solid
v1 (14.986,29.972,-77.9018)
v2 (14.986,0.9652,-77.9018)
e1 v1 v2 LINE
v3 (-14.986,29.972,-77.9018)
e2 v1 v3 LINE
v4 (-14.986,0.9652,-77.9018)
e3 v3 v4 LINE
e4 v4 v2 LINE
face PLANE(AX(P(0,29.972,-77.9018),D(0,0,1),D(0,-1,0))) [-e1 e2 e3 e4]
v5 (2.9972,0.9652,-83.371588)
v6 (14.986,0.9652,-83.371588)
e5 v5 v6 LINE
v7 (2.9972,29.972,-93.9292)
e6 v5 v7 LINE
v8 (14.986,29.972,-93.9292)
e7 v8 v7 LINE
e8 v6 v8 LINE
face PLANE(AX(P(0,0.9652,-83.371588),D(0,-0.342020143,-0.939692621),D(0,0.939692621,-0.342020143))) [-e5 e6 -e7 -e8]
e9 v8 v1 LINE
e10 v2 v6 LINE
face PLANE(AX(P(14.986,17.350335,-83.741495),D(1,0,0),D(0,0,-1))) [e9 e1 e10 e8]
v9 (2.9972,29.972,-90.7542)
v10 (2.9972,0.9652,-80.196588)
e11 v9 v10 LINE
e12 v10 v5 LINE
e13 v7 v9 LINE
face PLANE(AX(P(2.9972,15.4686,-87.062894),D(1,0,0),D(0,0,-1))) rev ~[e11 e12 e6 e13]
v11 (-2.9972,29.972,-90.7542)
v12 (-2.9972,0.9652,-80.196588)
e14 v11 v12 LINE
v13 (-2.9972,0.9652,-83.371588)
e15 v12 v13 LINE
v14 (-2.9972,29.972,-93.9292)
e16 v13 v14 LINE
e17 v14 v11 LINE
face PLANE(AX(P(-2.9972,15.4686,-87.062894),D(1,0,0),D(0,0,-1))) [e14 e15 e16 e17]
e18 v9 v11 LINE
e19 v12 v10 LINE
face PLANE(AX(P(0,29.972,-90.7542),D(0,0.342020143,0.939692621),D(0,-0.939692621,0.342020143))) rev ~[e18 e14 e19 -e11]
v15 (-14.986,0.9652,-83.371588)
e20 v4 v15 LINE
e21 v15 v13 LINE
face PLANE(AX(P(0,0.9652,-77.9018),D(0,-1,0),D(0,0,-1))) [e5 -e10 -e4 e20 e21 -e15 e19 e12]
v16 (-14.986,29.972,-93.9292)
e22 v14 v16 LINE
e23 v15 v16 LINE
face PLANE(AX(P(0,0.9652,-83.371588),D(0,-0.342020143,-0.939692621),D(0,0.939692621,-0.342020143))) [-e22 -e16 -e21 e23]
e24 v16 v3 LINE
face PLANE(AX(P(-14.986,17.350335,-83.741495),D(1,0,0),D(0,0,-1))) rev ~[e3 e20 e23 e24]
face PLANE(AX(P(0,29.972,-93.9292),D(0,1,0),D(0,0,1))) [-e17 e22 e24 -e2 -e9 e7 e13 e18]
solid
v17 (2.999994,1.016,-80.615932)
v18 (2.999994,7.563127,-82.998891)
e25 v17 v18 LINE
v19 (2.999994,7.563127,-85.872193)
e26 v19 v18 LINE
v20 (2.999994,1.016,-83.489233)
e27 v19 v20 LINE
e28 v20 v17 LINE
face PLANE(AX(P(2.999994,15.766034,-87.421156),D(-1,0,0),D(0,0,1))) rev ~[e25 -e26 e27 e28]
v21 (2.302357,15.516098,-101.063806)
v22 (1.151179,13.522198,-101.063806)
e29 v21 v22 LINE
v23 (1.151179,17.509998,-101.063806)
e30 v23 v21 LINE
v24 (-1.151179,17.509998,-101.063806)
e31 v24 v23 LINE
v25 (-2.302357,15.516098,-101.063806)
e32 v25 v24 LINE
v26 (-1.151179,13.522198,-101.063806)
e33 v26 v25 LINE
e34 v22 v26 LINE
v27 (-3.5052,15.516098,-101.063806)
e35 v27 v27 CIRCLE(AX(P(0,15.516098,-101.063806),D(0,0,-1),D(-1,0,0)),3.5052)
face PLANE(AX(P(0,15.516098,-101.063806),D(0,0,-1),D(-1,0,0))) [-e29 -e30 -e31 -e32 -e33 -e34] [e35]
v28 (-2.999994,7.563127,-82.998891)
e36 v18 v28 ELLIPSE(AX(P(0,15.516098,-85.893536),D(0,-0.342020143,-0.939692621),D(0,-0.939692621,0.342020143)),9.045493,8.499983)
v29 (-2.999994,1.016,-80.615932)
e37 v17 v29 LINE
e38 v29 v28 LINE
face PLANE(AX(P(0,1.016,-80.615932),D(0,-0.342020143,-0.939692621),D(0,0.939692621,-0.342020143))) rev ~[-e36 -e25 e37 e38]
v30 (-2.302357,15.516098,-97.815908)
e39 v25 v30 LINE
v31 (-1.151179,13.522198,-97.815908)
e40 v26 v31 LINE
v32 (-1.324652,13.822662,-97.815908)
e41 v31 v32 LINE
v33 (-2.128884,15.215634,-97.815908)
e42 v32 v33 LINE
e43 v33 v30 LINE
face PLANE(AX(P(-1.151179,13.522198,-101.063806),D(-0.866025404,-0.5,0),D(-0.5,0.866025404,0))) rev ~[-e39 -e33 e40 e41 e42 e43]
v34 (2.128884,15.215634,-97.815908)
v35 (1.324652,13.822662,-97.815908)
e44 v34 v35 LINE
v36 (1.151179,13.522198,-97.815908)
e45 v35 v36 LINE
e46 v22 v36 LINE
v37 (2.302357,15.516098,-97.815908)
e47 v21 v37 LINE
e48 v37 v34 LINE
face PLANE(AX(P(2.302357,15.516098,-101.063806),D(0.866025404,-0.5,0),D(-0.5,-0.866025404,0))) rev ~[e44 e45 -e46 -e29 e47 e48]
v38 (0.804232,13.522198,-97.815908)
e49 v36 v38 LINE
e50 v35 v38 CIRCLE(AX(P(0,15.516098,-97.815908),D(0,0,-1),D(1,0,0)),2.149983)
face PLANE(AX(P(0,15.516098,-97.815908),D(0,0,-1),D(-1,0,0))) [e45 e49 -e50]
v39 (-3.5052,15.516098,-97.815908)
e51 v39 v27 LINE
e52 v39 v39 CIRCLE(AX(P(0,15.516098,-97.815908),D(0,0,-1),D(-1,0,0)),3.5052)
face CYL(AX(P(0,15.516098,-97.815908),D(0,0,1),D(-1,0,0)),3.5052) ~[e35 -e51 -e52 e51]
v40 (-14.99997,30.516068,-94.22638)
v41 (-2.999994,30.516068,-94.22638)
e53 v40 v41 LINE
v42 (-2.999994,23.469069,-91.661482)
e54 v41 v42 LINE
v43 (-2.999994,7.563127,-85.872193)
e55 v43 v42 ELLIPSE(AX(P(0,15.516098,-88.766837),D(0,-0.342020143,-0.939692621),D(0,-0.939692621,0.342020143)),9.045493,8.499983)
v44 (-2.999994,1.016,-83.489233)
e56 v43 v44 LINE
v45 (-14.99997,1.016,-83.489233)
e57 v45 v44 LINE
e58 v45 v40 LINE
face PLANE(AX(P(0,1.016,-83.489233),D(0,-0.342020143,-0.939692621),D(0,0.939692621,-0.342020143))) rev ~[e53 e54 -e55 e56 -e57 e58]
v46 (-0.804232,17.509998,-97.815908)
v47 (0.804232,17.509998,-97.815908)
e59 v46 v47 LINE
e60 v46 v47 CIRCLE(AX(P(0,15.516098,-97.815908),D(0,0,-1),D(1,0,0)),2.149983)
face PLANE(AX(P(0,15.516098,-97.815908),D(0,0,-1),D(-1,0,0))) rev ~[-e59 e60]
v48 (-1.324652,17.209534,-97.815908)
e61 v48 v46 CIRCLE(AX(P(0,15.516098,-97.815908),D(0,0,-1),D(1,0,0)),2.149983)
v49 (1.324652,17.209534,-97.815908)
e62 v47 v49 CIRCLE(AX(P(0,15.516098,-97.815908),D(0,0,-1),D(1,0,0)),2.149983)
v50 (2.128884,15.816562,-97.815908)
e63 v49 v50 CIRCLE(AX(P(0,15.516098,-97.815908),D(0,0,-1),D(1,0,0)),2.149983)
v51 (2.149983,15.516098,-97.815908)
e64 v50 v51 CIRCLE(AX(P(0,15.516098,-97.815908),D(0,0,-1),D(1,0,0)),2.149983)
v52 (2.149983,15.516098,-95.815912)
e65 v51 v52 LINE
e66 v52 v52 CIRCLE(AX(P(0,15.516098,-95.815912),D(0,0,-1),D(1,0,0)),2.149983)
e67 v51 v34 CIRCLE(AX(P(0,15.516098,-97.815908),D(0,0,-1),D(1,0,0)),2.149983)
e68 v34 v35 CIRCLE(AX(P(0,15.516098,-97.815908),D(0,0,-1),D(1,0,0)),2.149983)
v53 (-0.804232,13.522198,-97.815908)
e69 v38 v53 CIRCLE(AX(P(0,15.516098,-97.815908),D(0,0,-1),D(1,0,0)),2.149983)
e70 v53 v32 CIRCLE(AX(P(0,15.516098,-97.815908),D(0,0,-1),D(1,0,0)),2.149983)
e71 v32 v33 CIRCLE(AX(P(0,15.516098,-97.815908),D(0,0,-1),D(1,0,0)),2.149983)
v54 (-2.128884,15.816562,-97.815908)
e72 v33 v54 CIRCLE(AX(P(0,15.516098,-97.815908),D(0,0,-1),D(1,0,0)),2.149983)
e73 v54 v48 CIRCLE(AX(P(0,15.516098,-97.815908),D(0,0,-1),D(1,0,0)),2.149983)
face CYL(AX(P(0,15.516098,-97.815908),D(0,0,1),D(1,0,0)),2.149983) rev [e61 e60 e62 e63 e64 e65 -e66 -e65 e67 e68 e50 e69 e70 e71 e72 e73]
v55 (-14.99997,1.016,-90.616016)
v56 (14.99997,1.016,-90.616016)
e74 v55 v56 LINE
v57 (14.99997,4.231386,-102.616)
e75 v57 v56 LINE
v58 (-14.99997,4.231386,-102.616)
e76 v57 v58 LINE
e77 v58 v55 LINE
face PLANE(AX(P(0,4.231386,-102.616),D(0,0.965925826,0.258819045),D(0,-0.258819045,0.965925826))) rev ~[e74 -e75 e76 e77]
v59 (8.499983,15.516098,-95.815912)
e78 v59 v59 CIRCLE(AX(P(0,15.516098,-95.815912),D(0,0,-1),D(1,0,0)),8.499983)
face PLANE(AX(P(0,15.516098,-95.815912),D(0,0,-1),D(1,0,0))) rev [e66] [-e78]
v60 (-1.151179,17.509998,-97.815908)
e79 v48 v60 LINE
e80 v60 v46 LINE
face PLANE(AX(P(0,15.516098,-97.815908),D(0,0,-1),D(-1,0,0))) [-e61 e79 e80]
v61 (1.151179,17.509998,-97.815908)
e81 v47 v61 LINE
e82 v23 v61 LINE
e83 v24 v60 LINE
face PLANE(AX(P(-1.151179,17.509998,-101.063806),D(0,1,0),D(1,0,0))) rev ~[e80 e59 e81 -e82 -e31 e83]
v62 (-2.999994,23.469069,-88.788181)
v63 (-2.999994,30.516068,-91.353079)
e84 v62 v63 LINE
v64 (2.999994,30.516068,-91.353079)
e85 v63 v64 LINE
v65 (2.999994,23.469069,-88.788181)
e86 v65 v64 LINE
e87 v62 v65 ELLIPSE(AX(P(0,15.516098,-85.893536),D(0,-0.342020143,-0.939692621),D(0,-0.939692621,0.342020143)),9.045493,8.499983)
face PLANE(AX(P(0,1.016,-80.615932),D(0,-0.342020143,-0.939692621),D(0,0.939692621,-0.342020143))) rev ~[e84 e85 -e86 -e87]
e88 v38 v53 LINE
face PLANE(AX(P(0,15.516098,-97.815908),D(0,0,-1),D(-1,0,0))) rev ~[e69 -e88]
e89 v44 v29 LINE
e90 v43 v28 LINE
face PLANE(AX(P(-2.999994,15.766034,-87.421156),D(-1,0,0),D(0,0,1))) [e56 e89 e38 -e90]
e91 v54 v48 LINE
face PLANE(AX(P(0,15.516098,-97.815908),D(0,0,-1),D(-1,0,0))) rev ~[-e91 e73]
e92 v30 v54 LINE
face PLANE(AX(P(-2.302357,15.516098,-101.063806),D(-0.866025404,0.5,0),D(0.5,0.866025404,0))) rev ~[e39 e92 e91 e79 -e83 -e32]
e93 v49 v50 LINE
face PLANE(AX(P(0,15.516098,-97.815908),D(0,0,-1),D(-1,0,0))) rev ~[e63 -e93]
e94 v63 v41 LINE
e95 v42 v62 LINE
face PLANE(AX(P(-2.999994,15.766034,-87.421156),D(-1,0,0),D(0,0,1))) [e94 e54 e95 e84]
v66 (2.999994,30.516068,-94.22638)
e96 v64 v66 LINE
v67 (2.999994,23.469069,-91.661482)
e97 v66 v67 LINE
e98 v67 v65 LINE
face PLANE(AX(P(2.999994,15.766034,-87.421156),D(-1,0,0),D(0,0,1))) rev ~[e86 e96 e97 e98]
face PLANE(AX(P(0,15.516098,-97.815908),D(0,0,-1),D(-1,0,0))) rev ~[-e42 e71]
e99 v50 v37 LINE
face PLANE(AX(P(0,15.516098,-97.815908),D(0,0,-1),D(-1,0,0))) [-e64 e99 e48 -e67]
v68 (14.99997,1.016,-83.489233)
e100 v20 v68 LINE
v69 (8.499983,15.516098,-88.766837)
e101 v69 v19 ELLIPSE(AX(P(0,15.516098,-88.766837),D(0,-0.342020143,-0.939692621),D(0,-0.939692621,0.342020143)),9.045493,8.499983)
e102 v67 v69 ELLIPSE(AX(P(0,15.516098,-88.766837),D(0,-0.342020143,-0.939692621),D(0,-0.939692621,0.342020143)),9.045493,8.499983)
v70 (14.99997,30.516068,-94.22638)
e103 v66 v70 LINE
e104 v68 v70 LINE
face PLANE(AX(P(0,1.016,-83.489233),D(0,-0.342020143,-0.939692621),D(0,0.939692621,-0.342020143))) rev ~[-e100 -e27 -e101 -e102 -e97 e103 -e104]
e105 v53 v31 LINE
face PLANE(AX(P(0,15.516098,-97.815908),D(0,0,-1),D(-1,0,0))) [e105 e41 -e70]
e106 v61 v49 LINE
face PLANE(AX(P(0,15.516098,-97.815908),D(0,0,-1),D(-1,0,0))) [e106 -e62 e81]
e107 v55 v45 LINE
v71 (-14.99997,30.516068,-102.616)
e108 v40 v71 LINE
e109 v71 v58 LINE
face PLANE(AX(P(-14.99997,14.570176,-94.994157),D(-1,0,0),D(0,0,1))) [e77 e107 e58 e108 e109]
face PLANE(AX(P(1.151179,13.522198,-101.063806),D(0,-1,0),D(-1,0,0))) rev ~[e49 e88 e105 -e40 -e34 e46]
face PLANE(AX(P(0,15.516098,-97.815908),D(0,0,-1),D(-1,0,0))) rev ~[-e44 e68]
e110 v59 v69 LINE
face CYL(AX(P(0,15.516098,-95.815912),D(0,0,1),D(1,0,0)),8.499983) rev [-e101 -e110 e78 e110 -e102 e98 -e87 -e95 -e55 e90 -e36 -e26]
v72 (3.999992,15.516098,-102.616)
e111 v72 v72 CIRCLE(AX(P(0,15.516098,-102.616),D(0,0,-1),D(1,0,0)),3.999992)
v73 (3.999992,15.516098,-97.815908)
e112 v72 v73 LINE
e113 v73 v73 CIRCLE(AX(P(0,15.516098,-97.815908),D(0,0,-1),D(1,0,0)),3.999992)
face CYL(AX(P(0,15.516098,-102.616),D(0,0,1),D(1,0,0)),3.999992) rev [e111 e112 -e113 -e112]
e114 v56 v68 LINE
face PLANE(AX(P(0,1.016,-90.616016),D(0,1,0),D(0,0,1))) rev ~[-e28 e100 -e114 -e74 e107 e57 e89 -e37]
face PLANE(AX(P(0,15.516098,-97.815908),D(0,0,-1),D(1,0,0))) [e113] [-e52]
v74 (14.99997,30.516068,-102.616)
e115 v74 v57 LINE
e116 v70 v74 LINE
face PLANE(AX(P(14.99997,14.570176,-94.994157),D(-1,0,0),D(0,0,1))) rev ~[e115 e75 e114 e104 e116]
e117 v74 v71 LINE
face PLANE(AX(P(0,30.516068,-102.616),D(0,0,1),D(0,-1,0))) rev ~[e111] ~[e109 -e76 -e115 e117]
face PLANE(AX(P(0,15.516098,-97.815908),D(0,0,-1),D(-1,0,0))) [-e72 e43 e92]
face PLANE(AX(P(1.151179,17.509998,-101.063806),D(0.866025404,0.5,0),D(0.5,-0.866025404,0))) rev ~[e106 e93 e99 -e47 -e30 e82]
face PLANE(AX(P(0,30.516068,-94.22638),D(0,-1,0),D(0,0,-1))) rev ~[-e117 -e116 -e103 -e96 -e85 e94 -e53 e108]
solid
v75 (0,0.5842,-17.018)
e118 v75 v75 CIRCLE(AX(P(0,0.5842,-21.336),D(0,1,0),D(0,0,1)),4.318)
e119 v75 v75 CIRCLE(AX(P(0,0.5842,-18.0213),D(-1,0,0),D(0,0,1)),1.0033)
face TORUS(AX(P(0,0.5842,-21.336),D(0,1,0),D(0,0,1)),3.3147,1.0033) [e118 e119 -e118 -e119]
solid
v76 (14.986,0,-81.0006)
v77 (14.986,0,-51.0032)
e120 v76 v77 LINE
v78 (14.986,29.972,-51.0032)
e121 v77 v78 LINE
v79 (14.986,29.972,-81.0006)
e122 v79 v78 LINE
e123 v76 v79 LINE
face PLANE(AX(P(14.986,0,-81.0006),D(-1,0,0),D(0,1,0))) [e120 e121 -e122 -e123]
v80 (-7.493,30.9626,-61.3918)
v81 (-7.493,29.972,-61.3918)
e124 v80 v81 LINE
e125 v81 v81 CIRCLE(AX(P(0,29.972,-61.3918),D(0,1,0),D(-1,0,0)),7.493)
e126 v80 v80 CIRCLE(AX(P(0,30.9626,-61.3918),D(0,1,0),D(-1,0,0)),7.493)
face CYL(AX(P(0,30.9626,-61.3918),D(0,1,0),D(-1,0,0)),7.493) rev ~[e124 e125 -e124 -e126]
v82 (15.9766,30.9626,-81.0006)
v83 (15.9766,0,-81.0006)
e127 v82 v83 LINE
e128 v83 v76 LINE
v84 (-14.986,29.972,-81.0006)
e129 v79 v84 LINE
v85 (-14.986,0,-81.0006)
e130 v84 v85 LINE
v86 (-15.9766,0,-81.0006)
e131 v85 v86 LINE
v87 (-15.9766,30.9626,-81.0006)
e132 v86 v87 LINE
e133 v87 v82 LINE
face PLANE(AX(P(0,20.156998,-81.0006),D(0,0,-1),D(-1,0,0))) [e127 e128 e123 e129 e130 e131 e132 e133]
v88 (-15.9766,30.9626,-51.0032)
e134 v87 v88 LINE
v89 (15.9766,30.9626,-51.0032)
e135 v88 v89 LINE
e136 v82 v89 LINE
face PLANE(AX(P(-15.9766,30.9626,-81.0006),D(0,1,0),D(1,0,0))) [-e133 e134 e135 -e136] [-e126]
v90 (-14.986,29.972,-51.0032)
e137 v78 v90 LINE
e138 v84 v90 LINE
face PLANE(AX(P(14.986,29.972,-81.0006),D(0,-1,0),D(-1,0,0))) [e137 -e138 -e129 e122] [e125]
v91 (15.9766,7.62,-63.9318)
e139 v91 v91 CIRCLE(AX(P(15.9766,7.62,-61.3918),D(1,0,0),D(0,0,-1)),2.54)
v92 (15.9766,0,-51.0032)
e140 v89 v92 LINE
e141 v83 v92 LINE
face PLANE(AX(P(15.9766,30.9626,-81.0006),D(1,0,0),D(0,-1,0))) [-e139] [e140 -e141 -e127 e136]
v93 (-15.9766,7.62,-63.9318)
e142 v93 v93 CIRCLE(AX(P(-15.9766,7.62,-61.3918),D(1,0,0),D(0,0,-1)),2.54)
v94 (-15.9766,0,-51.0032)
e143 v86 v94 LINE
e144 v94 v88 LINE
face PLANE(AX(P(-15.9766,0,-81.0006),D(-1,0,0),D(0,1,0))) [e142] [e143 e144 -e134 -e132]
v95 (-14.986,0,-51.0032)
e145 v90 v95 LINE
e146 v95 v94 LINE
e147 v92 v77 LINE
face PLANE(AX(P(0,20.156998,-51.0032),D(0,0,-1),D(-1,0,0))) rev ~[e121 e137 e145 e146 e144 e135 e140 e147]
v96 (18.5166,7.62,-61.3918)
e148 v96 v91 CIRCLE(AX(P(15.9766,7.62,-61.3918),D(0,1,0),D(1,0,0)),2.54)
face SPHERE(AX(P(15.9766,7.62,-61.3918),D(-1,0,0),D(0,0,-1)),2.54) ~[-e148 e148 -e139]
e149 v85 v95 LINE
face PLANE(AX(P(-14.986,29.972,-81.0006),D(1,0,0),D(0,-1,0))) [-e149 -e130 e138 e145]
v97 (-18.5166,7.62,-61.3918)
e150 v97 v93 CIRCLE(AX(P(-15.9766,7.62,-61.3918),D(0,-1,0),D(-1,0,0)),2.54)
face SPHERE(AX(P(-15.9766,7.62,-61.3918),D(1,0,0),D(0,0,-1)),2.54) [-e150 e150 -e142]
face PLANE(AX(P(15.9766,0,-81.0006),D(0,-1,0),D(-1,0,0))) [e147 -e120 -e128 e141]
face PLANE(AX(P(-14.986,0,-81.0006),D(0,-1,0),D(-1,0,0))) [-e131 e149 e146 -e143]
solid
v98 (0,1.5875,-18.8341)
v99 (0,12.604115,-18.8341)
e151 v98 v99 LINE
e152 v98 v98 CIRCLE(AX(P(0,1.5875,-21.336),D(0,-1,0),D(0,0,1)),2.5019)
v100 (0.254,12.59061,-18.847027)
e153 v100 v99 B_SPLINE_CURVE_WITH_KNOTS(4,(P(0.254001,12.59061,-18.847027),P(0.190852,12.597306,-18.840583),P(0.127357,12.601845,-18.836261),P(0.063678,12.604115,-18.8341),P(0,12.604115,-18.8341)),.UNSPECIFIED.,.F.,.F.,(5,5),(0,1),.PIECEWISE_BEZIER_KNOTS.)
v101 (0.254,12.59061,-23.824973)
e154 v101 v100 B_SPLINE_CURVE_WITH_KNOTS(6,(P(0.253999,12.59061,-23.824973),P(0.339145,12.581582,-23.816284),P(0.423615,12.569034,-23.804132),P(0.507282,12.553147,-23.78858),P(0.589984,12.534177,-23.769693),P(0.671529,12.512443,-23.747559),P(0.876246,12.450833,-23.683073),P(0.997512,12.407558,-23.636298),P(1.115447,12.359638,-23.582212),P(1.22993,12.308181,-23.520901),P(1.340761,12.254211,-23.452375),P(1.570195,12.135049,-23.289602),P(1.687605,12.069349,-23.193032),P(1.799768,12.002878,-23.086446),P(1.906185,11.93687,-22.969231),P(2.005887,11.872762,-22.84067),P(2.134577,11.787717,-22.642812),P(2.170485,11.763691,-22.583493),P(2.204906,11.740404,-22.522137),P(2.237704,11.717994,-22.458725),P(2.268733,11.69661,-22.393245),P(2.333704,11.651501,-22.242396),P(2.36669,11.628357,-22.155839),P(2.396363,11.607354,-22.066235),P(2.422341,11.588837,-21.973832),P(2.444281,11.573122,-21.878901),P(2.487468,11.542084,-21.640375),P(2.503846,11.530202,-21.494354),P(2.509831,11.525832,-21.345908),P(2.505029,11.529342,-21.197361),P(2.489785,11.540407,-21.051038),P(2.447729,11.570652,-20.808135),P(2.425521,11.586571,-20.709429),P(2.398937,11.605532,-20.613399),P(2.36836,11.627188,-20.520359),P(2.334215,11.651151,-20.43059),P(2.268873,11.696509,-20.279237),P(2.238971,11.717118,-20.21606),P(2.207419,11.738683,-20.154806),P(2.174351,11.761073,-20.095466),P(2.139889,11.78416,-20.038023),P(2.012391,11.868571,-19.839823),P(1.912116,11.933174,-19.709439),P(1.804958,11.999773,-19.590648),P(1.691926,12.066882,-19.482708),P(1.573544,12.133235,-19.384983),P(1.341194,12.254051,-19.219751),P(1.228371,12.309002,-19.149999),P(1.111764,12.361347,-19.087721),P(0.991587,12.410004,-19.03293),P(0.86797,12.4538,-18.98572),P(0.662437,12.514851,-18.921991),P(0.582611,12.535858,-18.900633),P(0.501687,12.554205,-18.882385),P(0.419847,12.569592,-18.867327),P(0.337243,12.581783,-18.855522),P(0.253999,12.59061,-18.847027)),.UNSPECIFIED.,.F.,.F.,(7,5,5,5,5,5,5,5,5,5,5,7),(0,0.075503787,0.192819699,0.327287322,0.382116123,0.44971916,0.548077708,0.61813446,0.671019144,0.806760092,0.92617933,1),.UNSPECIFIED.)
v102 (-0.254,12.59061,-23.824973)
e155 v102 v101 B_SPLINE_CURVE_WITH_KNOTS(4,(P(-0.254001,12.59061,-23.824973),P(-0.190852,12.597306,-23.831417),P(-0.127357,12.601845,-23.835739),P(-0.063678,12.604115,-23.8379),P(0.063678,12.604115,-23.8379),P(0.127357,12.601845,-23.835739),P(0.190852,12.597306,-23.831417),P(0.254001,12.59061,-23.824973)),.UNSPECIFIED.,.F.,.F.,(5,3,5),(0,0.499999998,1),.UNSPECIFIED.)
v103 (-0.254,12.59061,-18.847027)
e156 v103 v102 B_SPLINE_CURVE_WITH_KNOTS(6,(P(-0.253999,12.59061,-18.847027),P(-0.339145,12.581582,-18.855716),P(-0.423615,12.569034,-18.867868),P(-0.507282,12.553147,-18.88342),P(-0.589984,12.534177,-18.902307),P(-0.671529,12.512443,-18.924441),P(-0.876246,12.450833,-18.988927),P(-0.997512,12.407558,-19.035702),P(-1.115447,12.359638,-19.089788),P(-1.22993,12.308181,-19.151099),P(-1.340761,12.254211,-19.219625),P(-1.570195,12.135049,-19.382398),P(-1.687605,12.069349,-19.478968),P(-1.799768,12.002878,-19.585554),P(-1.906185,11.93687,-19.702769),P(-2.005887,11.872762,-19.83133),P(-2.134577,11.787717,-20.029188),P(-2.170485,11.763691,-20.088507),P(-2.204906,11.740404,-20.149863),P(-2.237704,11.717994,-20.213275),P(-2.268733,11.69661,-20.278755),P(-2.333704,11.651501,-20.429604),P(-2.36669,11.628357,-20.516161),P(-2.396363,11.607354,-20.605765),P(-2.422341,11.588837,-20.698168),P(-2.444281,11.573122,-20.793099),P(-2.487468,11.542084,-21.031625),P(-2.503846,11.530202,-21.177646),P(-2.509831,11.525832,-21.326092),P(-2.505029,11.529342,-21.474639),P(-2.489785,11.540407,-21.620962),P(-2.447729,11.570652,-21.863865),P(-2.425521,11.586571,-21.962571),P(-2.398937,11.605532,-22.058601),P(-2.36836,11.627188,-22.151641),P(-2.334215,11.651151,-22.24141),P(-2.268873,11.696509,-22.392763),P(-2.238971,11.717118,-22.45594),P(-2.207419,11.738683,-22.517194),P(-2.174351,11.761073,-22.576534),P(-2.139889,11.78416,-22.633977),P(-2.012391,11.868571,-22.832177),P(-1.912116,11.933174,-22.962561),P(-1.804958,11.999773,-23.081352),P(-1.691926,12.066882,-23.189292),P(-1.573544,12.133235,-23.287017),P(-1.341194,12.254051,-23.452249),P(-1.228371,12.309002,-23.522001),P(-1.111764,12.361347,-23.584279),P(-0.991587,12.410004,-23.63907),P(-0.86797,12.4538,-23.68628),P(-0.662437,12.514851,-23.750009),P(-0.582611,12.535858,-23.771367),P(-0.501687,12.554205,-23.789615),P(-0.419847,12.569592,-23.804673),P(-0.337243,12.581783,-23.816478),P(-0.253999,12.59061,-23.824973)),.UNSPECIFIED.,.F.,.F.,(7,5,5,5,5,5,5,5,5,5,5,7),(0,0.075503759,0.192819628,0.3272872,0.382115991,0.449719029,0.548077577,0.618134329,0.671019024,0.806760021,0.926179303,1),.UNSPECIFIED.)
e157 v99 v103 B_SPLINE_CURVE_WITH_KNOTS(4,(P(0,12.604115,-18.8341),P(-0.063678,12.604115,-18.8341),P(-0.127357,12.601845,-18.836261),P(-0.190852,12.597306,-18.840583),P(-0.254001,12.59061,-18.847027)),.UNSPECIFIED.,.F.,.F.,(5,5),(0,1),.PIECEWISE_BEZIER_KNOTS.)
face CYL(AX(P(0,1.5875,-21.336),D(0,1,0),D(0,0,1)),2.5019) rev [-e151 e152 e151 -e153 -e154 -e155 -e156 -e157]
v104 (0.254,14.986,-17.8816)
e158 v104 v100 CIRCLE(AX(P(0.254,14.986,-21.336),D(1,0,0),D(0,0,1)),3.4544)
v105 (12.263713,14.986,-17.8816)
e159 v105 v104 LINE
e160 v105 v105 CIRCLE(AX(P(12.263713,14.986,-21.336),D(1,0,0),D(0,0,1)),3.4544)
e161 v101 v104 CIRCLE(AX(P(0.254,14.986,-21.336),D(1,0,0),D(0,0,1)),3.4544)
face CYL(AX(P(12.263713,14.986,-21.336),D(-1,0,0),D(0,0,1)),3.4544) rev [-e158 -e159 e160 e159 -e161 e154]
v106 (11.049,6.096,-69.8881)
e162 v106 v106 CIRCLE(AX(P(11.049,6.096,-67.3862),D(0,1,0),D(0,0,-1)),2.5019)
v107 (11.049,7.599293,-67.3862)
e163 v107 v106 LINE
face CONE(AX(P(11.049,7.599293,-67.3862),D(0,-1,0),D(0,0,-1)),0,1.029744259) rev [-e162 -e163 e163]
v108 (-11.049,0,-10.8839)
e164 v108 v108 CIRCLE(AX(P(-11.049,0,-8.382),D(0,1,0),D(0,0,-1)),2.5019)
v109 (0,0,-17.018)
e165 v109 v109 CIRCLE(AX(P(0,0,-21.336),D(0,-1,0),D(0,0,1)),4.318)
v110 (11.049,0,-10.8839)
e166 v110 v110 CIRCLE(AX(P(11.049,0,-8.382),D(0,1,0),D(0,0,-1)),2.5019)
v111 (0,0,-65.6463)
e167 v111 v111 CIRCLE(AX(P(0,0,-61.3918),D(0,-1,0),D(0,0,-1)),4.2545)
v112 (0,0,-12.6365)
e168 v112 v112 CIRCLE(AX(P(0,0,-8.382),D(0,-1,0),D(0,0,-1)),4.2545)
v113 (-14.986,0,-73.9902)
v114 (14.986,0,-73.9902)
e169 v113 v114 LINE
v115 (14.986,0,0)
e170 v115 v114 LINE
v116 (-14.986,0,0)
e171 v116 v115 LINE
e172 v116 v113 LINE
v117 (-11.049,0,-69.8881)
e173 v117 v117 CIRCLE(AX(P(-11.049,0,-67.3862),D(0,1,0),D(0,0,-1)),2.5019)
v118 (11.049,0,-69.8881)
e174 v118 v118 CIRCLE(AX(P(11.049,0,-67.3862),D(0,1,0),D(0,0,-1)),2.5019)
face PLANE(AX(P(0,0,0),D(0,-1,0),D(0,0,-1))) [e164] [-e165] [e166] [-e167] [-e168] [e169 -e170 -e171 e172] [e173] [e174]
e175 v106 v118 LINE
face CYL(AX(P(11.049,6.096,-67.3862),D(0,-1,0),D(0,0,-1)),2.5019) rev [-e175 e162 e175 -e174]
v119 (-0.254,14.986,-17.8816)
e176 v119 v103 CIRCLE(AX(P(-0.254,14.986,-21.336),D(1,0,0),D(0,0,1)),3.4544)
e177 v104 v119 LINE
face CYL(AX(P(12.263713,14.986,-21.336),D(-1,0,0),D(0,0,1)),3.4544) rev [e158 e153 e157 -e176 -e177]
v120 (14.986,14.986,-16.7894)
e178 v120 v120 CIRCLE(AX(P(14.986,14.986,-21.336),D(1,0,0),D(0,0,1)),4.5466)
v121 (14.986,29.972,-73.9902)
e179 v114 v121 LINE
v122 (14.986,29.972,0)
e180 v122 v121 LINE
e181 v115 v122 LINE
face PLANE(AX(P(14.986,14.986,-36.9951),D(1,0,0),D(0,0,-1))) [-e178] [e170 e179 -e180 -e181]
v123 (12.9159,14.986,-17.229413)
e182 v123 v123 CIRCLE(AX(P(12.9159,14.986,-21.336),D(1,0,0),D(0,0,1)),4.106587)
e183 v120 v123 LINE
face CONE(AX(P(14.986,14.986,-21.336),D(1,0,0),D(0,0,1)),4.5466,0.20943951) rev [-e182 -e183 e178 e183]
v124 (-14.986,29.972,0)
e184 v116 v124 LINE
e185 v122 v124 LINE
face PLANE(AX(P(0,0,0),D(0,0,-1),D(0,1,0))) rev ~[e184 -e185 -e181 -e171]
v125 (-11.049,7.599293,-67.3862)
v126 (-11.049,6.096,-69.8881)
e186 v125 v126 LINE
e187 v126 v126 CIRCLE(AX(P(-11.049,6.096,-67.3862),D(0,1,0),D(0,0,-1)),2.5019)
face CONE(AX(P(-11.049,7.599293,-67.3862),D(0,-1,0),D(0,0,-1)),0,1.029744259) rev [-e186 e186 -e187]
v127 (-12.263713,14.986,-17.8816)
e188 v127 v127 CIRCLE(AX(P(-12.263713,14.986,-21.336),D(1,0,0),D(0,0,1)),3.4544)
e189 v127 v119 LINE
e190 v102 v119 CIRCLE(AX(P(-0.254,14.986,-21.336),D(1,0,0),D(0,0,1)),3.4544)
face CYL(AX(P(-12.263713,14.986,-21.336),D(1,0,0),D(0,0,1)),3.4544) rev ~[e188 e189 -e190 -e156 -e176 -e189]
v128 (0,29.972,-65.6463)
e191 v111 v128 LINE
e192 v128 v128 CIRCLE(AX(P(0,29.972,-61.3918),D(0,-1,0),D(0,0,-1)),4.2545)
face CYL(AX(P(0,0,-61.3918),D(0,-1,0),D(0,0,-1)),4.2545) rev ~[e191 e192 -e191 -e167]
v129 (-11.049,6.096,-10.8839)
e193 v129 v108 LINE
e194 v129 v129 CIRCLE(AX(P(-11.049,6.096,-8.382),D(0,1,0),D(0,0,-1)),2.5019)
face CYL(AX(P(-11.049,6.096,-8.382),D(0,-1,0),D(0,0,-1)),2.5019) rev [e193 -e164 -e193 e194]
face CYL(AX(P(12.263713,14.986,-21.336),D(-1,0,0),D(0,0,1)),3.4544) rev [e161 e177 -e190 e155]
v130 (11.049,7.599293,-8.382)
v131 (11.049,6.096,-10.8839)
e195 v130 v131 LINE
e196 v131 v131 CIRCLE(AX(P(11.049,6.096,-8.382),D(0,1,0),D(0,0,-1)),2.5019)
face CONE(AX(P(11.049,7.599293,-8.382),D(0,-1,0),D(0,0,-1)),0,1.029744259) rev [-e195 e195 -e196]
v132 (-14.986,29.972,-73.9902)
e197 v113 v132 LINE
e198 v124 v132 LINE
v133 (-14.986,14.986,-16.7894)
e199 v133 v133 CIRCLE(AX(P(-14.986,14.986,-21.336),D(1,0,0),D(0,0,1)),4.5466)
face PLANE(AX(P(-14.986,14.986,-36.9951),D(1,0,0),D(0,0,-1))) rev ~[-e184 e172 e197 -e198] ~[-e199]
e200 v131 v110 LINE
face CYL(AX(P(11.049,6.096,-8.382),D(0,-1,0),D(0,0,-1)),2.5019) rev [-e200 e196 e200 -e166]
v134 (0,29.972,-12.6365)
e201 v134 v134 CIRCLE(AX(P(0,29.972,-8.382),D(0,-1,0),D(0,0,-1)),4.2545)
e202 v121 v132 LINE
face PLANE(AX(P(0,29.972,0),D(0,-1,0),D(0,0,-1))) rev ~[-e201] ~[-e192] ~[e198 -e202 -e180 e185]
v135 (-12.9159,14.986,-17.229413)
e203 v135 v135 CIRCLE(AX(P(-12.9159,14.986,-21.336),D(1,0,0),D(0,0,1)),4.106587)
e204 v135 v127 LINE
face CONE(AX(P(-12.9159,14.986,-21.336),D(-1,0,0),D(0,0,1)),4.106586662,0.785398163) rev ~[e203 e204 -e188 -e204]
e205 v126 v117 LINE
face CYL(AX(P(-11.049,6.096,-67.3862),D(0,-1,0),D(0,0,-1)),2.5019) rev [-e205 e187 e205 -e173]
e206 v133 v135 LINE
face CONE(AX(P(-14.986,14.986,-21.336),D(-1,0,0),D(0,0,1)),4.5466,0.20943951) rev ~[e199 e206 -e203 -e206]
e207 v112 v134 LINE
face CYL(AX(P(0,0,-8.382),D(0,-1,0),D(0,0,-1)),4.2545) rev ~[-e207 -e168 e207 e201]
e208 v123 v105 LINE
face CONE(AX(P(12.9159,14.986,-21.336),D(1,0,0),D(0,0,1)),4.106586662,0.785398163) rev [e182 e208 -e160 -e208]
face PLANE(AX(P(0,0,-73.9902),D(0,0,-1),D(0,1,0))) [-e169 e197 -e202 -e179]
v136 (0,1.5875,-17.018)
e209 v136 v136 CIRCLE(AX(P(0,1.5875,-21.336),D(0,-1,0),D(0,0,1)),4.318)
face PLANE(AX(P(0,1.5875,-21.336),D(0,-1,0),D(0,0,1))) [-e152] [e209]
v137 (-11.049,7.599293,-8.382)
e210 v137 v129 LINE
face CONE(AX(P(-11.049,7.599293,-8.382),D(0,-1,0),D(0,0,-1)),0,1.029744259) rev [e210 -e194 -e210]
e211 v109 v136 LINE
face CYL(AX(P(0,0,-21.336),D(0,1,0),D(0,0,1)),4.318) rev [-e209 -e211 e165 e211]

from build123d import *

# Parameters (mm, degrees)
SKETCH1_W          = 73.9902
SKETCH1_H          = 29.972
EXTRUDE1_DEPTH     = 14.986
EXTRUDE4_DEPTH     = 14.99997
EXTRUDE5_DEPTH     = 2.999994
SKETCH14_R         = 3.5052
EXTRUDE6_DEPTH     = 3.247898
CUT_EXTRUDE3_DEPTH = 3.247898
EXTRUDE2_DEPTH     = 14.986
CUT_EXTRUDE1_DEPTH = 2.9972
SKETCH4_R          = 4.2545
CUT_EXTRUDE2_DEPTH = 29.972
HOLE1_AT_2_COUNT   = 2
HOLE1_AT_2_PITCH   = 59.0042
HOLE1_AT_3_COUNT   = 2
HOLE1_AT_3_PITCH   = 22.098
HOLE1_AT_4_COUNT   = 2
HOLE1_AT_4_PITCH   = 63.006485552
SKETCH8_R          = 1.0033
EXTRUDE3_DEPTH     = 29.9974
SKETCH18_R         = 7.493
CUT_EXTRUDE4_DEPTH = 0.9906


with BuildPart() as part:
    # Sketch1 → Extrude1 (new body, symmetric)
    with BuildSketch(Plane(origin=(0, 0, 0), x_dir=(0, 0, -1), z_dir=(1, 0, 0))):
        with Locations((36.9951, 14.986)):
            Rectangle(SKETCH1_W, SKETCH1_H)
    extrude(amount=EXTRUDE1_DEPTH, both=True)

    # Sketch4 → Cut-Extrude2 (cut)
    with BuildSketch(Plane.XZ):
        with Locations(Location((0, -8.382, 0), (0, 0, 270))):  # turned: the seam where the file's is
            Circle(SKETCH4_R)
        with Locations(Location((0, -61.3918, 0), (0, 0, 270))):  # turned: the seam where the file's is
            Circle(SKETCH4_R)
    extrude(amount=-CUT_EXTRUDE2_DEPTH, mode=Mode.SUBTRACT)

    # Sketch16 → Hole1 (revolve, cut)
    with BuildSketch(Plane(origin=(-11.049, 0, -8.382), x_dir=(0, 0, -1), z_dir=(1, 0, 0))):
        Polygon((0, 0), (0, 7.599293183), (2.5019, 6.096), (2.5019, 0), align=None)
    hole1 = revolve(axis=Axis((-11.049, -4.244199587, -8.382), (0, 1, 0)), mode=Mode.SUBTRACT)

    # Hole1 at 2: Hole1 ×2
    with Locations(*[(0, 0, -i * HOLE1_AT_2_PITCH) for i in range(1, HOLE1_AT_2_COUNT)]):
        add(hole1, mode=Mode.SUBTRACT)

    # Hole1 at 3: Hole1 ×2
    with Locations(*[(i * HOLE1_AT_3_PITCH, 0, 0) for i in range(1, HOLE1_AT_3_COUNT)]):
        add(hole1, mode=Mode.SUBTRACT)

    # Hole1 at 4: Hole1 ×2
    with Locations(*[Vector(0.350725799, 0, -0.936478197) * (i * HOLE1_AT_4_PITCH) for i in range(1, HOLE1_AT_4_COUNT)]):
        add(hole1, mode=Mode.SUBTRACT)

    # S2D0001 → Cut-Revolve2 (revolve, cut)
    with BuildSketch(Plane(origin=(14.986, 14.986, -21.336), x_dir=(0, 0, -1), z_dir=(0, -1, 0)), mode=Mode.PRIVATE) as cut_revolve2_sk:
        Polygon((0, 0), (4.5466, 0), (4.106586662, -2.0701), (3.4544, -2.722286662), (3.4544, -15.24), (0, -15.24), align=None)
    cut_revolve2 = revolve(cut_revolve2_sk.sketch.rotate(Axis((-10.40039223, 14.986, -21.336), (1, 0, 0)), 180), axis=Axis((-10.40039223, 14.986, -21.336), (1, 0, 0)), mode=Mode.SUBTRACT)  # turned: the seam where the file's is

    # Mirror1: Cut-Revolve2 across plane
    add(cut_revolve2.mirror(Plane(origin=(0, 0, 0), x_dir=(0, 0, 1), z_dir=(1, 0, 0))), mode=Mode.SUBTRACT)

    # Sketch19 → Cut-Revolve5 (revolve, cut)
    with BuildSketch(Plane(origin=(0, 0, 0), x_dir=(0, 0, -1), z_dir=(1, 0, 0)), mode=Mode.PRIVATE) as cut_revolve5_sk:
        Polygon((25.654, 0), (25.654, 1.5875), (23.8379, 1.5875), (23.8379, 14.986), (21.336, 14.986), (21.336, 0), align=None)
    revolve(cut_revolve5_sk.sketch.rotate(Axis((0, 14.986, -21.336), (0, -1, 0)), 180), axis=Axis((0, 14.986, -21.336), (0, -1, 0)), mode=Mode.SUBTRACT)  # turned: the seam where the file's is


with BuildPart() as body_2:
    # Sketch11 → Extrude4 (new body, symmetric)
    with BuildSketch(Plane(origin=(0, 0, 0), x_dir=(0, 0, -1), z_dir=(1, 0, 0))):
        Polygon((94.22638, 30.516068), (102.616, 30.516068), (102.616, 4.231386), (90.616016082, 1.016), (83.489233339, 1.016), align=None)
    extrude(amount=EXTRUDE4_DEPTH, both=True)

    # Sketch12 → Extrude5 (add, symmetric)
    with BuildSketch(Plane(origin=(0, 0, 0), x_dir=(0, 0, -1), z_dir=(1, 0, 0))):
        Polygon((94.22638, 30.516068), (83.489233339, 1.016), (80.61593207, 1.016), (91.353078731, 30.516068), align=None)
    extrude(amount=EXTRUDE5_DEPTH, both=True)

    # Sketch13 → Cut-Revolve4 (revolve, cut)
    with BuildSketch(Plane(origin=(0, 0, 0), x_dir=(0, 0, -1), z_dir=(1, 0, 0)), mode=Mode.PRIVATE) as cut_revolve4_sk:
        Polygon((102.616, 19.51609), (97.815908, 19.51609), (97.815908, 17.666081), (95.815912, 17.666081), (95.815912, 24.016081), (76.765912, 24.016081), (76.765912, 15.516098), (102.616, 15.516098), align=None)
    revolve(cut_revolve4_sk.sketch.rotate(Axis((0, 15.516098, -76.857343905), (0, 0, -1)), 90), axis=Axis((0, 15.516098, -76.857343905), (0, 0, -1)), mode=Mode.SUBTRACT)  # turned: the seam where the file's is

    # Sketch14 → Extrude6 (add)
    with BuildSketch(Plane(origin=(0, 0, -97.815908), x_dir=(-1, 0, 0), z_dir=(0, 0, -1))):
        with Locations((0, 15.516098)):
            Circle(SKETCH14_R)
    extrude(amount=EXTRUDE6_DEPTH)

    # Sketch15 → Cut-Extrude3 (cut)
    with BuildSketch(Plane(origin=(0, 0, -101.063806), x_dir=(-1, 0, 0), z_dir=(0, 0, -1))):
        Polygon((2.302357403, 15.516098), (1.151178702, 17.509998), (-1.151178702, 17.509998), (-2.302357403, 15.516098), (-1.151178702, 13.522198), (1.151178702, 13.522198), align=None)
    extrude(amount=-CUT_EXTRUDE3_DEPTH, mode=Mode.SUBTRACT)


with BuildPart() as body_3:
    # Sketch2 → Extrude2 (new body, symmetric)
    with BuildSketch(Plane(origin=(0, 0, 0), x_dir=(0, 0, -1), z_dir=(1, 0, 0))):
        Polygon((77.9018, 29.972), (77.9018, 0.9652), (83.371588209, 0.9652), (93.9292, 29.972), align=None)
    extrude(amount=EXTRUDE2_DEPTH, both=True)

    # Sketch3 → Cut-Extrude1 (cut, symmetric)
    with BuildSketch(Plane(origin=(0, 0, 0), x_dir=(0, 0, -1), z_dir=(1, 0, 0))):
        Polygon((90.7542, 29.972), (80.196588209, 0.9652), (83.371588209, 0.9652), (93.9292, 29.972), align=None)
    extrude(amount=CUT_EXTRUDE1_DEPTH, both=True, mode=Mode.SUBTRACT)


with BuildPart() as body_4:
    # Sketch8 → Revolve1 (revolve)
    with BuildSketch(Plane(origin=(0, 0, 0), x_dir=(0, 0, -1), z_dir=(1, 0, 0)), mode=Mode.PRIVATE) as revolve1_sk:
        with Locations((24.6507, 0.5842)):
            Circle(SKETCH8_R)
    revolve(revolve1_sk.sketch.rotate(Axis((0, -0.51943, -21.336), (0, 1, 0)), 180), axis=Axis((0, -0.51943, -21.336), (0, 1, 0)))  # turned: the seam where the file's is


with BuildPart() as body_5:
    # Sketch9 → Extrude3 (new body)
    with BuildSketch(Plane(origin=(0, 0, -81.0006), x_dir=(-1, 0, 0), z_dir=(0, 0, -1))):
        Polygon((14.986, 29.972), (14.986, 0), (15.9766, 0), (15.9766, 30.9626), (-15.9766, 30.9626), (-15.9766, 0), (-14.986, 0), (-14.986, 29.972), align=None)
    extrude(amount=-EXTRUDE3_DEPTH)

    # Sketch10 → Revolve2 (revolve)
    with BuildSketch(Plane(origin=(0, 7.62, -83.7438), x_dir=(1, 0, 0), z_dir=(0, 1, 0))):
        with BuildLine():
            Line((15.9766, -19.812), (15.9766, -22.352))
            Line((15.9766, -22.352), (18.5166, -22.352))
            ThreePointArc((18.5166, -22.352), (17.772651224, -20.555948776), (15.9766, -19.812))
        make_face()
        with BuildLine():
            Line((-15.9766, -19.812), (-15.9766, -22.352))
            Line((-15.9766, -22.352), (-18.5166, -22.352))
            ThreePointArc((-18.5166, -22.352), (-17.772651224, -20.555948776), (-15.9766, -19.812))
        make_face()
    revolve(axis=Axis((-20.36826, 7.62, -61.3918), (1, 0, 0)))

    # Sketch18 → Cut-Extrude4 (cut)
    with BuildSketch(Plane(origin=(0, 30.9626, 0), x_dir=(1, 0, 0), z_dir=(0, 1, 0))):
        with Locations(Location((0, 61.3918, 0), (0, 0, 180))):  # turned: the seam where the file's is
            Circle(SKETCH18_R)
    extrude(amount=-CUT_EXTRUDE4_DEPTH, mode=Mode.SUBTRACT)


solid = Compound([part.part, body_2.part, body_3.part, body_4.part, body_5.part])
